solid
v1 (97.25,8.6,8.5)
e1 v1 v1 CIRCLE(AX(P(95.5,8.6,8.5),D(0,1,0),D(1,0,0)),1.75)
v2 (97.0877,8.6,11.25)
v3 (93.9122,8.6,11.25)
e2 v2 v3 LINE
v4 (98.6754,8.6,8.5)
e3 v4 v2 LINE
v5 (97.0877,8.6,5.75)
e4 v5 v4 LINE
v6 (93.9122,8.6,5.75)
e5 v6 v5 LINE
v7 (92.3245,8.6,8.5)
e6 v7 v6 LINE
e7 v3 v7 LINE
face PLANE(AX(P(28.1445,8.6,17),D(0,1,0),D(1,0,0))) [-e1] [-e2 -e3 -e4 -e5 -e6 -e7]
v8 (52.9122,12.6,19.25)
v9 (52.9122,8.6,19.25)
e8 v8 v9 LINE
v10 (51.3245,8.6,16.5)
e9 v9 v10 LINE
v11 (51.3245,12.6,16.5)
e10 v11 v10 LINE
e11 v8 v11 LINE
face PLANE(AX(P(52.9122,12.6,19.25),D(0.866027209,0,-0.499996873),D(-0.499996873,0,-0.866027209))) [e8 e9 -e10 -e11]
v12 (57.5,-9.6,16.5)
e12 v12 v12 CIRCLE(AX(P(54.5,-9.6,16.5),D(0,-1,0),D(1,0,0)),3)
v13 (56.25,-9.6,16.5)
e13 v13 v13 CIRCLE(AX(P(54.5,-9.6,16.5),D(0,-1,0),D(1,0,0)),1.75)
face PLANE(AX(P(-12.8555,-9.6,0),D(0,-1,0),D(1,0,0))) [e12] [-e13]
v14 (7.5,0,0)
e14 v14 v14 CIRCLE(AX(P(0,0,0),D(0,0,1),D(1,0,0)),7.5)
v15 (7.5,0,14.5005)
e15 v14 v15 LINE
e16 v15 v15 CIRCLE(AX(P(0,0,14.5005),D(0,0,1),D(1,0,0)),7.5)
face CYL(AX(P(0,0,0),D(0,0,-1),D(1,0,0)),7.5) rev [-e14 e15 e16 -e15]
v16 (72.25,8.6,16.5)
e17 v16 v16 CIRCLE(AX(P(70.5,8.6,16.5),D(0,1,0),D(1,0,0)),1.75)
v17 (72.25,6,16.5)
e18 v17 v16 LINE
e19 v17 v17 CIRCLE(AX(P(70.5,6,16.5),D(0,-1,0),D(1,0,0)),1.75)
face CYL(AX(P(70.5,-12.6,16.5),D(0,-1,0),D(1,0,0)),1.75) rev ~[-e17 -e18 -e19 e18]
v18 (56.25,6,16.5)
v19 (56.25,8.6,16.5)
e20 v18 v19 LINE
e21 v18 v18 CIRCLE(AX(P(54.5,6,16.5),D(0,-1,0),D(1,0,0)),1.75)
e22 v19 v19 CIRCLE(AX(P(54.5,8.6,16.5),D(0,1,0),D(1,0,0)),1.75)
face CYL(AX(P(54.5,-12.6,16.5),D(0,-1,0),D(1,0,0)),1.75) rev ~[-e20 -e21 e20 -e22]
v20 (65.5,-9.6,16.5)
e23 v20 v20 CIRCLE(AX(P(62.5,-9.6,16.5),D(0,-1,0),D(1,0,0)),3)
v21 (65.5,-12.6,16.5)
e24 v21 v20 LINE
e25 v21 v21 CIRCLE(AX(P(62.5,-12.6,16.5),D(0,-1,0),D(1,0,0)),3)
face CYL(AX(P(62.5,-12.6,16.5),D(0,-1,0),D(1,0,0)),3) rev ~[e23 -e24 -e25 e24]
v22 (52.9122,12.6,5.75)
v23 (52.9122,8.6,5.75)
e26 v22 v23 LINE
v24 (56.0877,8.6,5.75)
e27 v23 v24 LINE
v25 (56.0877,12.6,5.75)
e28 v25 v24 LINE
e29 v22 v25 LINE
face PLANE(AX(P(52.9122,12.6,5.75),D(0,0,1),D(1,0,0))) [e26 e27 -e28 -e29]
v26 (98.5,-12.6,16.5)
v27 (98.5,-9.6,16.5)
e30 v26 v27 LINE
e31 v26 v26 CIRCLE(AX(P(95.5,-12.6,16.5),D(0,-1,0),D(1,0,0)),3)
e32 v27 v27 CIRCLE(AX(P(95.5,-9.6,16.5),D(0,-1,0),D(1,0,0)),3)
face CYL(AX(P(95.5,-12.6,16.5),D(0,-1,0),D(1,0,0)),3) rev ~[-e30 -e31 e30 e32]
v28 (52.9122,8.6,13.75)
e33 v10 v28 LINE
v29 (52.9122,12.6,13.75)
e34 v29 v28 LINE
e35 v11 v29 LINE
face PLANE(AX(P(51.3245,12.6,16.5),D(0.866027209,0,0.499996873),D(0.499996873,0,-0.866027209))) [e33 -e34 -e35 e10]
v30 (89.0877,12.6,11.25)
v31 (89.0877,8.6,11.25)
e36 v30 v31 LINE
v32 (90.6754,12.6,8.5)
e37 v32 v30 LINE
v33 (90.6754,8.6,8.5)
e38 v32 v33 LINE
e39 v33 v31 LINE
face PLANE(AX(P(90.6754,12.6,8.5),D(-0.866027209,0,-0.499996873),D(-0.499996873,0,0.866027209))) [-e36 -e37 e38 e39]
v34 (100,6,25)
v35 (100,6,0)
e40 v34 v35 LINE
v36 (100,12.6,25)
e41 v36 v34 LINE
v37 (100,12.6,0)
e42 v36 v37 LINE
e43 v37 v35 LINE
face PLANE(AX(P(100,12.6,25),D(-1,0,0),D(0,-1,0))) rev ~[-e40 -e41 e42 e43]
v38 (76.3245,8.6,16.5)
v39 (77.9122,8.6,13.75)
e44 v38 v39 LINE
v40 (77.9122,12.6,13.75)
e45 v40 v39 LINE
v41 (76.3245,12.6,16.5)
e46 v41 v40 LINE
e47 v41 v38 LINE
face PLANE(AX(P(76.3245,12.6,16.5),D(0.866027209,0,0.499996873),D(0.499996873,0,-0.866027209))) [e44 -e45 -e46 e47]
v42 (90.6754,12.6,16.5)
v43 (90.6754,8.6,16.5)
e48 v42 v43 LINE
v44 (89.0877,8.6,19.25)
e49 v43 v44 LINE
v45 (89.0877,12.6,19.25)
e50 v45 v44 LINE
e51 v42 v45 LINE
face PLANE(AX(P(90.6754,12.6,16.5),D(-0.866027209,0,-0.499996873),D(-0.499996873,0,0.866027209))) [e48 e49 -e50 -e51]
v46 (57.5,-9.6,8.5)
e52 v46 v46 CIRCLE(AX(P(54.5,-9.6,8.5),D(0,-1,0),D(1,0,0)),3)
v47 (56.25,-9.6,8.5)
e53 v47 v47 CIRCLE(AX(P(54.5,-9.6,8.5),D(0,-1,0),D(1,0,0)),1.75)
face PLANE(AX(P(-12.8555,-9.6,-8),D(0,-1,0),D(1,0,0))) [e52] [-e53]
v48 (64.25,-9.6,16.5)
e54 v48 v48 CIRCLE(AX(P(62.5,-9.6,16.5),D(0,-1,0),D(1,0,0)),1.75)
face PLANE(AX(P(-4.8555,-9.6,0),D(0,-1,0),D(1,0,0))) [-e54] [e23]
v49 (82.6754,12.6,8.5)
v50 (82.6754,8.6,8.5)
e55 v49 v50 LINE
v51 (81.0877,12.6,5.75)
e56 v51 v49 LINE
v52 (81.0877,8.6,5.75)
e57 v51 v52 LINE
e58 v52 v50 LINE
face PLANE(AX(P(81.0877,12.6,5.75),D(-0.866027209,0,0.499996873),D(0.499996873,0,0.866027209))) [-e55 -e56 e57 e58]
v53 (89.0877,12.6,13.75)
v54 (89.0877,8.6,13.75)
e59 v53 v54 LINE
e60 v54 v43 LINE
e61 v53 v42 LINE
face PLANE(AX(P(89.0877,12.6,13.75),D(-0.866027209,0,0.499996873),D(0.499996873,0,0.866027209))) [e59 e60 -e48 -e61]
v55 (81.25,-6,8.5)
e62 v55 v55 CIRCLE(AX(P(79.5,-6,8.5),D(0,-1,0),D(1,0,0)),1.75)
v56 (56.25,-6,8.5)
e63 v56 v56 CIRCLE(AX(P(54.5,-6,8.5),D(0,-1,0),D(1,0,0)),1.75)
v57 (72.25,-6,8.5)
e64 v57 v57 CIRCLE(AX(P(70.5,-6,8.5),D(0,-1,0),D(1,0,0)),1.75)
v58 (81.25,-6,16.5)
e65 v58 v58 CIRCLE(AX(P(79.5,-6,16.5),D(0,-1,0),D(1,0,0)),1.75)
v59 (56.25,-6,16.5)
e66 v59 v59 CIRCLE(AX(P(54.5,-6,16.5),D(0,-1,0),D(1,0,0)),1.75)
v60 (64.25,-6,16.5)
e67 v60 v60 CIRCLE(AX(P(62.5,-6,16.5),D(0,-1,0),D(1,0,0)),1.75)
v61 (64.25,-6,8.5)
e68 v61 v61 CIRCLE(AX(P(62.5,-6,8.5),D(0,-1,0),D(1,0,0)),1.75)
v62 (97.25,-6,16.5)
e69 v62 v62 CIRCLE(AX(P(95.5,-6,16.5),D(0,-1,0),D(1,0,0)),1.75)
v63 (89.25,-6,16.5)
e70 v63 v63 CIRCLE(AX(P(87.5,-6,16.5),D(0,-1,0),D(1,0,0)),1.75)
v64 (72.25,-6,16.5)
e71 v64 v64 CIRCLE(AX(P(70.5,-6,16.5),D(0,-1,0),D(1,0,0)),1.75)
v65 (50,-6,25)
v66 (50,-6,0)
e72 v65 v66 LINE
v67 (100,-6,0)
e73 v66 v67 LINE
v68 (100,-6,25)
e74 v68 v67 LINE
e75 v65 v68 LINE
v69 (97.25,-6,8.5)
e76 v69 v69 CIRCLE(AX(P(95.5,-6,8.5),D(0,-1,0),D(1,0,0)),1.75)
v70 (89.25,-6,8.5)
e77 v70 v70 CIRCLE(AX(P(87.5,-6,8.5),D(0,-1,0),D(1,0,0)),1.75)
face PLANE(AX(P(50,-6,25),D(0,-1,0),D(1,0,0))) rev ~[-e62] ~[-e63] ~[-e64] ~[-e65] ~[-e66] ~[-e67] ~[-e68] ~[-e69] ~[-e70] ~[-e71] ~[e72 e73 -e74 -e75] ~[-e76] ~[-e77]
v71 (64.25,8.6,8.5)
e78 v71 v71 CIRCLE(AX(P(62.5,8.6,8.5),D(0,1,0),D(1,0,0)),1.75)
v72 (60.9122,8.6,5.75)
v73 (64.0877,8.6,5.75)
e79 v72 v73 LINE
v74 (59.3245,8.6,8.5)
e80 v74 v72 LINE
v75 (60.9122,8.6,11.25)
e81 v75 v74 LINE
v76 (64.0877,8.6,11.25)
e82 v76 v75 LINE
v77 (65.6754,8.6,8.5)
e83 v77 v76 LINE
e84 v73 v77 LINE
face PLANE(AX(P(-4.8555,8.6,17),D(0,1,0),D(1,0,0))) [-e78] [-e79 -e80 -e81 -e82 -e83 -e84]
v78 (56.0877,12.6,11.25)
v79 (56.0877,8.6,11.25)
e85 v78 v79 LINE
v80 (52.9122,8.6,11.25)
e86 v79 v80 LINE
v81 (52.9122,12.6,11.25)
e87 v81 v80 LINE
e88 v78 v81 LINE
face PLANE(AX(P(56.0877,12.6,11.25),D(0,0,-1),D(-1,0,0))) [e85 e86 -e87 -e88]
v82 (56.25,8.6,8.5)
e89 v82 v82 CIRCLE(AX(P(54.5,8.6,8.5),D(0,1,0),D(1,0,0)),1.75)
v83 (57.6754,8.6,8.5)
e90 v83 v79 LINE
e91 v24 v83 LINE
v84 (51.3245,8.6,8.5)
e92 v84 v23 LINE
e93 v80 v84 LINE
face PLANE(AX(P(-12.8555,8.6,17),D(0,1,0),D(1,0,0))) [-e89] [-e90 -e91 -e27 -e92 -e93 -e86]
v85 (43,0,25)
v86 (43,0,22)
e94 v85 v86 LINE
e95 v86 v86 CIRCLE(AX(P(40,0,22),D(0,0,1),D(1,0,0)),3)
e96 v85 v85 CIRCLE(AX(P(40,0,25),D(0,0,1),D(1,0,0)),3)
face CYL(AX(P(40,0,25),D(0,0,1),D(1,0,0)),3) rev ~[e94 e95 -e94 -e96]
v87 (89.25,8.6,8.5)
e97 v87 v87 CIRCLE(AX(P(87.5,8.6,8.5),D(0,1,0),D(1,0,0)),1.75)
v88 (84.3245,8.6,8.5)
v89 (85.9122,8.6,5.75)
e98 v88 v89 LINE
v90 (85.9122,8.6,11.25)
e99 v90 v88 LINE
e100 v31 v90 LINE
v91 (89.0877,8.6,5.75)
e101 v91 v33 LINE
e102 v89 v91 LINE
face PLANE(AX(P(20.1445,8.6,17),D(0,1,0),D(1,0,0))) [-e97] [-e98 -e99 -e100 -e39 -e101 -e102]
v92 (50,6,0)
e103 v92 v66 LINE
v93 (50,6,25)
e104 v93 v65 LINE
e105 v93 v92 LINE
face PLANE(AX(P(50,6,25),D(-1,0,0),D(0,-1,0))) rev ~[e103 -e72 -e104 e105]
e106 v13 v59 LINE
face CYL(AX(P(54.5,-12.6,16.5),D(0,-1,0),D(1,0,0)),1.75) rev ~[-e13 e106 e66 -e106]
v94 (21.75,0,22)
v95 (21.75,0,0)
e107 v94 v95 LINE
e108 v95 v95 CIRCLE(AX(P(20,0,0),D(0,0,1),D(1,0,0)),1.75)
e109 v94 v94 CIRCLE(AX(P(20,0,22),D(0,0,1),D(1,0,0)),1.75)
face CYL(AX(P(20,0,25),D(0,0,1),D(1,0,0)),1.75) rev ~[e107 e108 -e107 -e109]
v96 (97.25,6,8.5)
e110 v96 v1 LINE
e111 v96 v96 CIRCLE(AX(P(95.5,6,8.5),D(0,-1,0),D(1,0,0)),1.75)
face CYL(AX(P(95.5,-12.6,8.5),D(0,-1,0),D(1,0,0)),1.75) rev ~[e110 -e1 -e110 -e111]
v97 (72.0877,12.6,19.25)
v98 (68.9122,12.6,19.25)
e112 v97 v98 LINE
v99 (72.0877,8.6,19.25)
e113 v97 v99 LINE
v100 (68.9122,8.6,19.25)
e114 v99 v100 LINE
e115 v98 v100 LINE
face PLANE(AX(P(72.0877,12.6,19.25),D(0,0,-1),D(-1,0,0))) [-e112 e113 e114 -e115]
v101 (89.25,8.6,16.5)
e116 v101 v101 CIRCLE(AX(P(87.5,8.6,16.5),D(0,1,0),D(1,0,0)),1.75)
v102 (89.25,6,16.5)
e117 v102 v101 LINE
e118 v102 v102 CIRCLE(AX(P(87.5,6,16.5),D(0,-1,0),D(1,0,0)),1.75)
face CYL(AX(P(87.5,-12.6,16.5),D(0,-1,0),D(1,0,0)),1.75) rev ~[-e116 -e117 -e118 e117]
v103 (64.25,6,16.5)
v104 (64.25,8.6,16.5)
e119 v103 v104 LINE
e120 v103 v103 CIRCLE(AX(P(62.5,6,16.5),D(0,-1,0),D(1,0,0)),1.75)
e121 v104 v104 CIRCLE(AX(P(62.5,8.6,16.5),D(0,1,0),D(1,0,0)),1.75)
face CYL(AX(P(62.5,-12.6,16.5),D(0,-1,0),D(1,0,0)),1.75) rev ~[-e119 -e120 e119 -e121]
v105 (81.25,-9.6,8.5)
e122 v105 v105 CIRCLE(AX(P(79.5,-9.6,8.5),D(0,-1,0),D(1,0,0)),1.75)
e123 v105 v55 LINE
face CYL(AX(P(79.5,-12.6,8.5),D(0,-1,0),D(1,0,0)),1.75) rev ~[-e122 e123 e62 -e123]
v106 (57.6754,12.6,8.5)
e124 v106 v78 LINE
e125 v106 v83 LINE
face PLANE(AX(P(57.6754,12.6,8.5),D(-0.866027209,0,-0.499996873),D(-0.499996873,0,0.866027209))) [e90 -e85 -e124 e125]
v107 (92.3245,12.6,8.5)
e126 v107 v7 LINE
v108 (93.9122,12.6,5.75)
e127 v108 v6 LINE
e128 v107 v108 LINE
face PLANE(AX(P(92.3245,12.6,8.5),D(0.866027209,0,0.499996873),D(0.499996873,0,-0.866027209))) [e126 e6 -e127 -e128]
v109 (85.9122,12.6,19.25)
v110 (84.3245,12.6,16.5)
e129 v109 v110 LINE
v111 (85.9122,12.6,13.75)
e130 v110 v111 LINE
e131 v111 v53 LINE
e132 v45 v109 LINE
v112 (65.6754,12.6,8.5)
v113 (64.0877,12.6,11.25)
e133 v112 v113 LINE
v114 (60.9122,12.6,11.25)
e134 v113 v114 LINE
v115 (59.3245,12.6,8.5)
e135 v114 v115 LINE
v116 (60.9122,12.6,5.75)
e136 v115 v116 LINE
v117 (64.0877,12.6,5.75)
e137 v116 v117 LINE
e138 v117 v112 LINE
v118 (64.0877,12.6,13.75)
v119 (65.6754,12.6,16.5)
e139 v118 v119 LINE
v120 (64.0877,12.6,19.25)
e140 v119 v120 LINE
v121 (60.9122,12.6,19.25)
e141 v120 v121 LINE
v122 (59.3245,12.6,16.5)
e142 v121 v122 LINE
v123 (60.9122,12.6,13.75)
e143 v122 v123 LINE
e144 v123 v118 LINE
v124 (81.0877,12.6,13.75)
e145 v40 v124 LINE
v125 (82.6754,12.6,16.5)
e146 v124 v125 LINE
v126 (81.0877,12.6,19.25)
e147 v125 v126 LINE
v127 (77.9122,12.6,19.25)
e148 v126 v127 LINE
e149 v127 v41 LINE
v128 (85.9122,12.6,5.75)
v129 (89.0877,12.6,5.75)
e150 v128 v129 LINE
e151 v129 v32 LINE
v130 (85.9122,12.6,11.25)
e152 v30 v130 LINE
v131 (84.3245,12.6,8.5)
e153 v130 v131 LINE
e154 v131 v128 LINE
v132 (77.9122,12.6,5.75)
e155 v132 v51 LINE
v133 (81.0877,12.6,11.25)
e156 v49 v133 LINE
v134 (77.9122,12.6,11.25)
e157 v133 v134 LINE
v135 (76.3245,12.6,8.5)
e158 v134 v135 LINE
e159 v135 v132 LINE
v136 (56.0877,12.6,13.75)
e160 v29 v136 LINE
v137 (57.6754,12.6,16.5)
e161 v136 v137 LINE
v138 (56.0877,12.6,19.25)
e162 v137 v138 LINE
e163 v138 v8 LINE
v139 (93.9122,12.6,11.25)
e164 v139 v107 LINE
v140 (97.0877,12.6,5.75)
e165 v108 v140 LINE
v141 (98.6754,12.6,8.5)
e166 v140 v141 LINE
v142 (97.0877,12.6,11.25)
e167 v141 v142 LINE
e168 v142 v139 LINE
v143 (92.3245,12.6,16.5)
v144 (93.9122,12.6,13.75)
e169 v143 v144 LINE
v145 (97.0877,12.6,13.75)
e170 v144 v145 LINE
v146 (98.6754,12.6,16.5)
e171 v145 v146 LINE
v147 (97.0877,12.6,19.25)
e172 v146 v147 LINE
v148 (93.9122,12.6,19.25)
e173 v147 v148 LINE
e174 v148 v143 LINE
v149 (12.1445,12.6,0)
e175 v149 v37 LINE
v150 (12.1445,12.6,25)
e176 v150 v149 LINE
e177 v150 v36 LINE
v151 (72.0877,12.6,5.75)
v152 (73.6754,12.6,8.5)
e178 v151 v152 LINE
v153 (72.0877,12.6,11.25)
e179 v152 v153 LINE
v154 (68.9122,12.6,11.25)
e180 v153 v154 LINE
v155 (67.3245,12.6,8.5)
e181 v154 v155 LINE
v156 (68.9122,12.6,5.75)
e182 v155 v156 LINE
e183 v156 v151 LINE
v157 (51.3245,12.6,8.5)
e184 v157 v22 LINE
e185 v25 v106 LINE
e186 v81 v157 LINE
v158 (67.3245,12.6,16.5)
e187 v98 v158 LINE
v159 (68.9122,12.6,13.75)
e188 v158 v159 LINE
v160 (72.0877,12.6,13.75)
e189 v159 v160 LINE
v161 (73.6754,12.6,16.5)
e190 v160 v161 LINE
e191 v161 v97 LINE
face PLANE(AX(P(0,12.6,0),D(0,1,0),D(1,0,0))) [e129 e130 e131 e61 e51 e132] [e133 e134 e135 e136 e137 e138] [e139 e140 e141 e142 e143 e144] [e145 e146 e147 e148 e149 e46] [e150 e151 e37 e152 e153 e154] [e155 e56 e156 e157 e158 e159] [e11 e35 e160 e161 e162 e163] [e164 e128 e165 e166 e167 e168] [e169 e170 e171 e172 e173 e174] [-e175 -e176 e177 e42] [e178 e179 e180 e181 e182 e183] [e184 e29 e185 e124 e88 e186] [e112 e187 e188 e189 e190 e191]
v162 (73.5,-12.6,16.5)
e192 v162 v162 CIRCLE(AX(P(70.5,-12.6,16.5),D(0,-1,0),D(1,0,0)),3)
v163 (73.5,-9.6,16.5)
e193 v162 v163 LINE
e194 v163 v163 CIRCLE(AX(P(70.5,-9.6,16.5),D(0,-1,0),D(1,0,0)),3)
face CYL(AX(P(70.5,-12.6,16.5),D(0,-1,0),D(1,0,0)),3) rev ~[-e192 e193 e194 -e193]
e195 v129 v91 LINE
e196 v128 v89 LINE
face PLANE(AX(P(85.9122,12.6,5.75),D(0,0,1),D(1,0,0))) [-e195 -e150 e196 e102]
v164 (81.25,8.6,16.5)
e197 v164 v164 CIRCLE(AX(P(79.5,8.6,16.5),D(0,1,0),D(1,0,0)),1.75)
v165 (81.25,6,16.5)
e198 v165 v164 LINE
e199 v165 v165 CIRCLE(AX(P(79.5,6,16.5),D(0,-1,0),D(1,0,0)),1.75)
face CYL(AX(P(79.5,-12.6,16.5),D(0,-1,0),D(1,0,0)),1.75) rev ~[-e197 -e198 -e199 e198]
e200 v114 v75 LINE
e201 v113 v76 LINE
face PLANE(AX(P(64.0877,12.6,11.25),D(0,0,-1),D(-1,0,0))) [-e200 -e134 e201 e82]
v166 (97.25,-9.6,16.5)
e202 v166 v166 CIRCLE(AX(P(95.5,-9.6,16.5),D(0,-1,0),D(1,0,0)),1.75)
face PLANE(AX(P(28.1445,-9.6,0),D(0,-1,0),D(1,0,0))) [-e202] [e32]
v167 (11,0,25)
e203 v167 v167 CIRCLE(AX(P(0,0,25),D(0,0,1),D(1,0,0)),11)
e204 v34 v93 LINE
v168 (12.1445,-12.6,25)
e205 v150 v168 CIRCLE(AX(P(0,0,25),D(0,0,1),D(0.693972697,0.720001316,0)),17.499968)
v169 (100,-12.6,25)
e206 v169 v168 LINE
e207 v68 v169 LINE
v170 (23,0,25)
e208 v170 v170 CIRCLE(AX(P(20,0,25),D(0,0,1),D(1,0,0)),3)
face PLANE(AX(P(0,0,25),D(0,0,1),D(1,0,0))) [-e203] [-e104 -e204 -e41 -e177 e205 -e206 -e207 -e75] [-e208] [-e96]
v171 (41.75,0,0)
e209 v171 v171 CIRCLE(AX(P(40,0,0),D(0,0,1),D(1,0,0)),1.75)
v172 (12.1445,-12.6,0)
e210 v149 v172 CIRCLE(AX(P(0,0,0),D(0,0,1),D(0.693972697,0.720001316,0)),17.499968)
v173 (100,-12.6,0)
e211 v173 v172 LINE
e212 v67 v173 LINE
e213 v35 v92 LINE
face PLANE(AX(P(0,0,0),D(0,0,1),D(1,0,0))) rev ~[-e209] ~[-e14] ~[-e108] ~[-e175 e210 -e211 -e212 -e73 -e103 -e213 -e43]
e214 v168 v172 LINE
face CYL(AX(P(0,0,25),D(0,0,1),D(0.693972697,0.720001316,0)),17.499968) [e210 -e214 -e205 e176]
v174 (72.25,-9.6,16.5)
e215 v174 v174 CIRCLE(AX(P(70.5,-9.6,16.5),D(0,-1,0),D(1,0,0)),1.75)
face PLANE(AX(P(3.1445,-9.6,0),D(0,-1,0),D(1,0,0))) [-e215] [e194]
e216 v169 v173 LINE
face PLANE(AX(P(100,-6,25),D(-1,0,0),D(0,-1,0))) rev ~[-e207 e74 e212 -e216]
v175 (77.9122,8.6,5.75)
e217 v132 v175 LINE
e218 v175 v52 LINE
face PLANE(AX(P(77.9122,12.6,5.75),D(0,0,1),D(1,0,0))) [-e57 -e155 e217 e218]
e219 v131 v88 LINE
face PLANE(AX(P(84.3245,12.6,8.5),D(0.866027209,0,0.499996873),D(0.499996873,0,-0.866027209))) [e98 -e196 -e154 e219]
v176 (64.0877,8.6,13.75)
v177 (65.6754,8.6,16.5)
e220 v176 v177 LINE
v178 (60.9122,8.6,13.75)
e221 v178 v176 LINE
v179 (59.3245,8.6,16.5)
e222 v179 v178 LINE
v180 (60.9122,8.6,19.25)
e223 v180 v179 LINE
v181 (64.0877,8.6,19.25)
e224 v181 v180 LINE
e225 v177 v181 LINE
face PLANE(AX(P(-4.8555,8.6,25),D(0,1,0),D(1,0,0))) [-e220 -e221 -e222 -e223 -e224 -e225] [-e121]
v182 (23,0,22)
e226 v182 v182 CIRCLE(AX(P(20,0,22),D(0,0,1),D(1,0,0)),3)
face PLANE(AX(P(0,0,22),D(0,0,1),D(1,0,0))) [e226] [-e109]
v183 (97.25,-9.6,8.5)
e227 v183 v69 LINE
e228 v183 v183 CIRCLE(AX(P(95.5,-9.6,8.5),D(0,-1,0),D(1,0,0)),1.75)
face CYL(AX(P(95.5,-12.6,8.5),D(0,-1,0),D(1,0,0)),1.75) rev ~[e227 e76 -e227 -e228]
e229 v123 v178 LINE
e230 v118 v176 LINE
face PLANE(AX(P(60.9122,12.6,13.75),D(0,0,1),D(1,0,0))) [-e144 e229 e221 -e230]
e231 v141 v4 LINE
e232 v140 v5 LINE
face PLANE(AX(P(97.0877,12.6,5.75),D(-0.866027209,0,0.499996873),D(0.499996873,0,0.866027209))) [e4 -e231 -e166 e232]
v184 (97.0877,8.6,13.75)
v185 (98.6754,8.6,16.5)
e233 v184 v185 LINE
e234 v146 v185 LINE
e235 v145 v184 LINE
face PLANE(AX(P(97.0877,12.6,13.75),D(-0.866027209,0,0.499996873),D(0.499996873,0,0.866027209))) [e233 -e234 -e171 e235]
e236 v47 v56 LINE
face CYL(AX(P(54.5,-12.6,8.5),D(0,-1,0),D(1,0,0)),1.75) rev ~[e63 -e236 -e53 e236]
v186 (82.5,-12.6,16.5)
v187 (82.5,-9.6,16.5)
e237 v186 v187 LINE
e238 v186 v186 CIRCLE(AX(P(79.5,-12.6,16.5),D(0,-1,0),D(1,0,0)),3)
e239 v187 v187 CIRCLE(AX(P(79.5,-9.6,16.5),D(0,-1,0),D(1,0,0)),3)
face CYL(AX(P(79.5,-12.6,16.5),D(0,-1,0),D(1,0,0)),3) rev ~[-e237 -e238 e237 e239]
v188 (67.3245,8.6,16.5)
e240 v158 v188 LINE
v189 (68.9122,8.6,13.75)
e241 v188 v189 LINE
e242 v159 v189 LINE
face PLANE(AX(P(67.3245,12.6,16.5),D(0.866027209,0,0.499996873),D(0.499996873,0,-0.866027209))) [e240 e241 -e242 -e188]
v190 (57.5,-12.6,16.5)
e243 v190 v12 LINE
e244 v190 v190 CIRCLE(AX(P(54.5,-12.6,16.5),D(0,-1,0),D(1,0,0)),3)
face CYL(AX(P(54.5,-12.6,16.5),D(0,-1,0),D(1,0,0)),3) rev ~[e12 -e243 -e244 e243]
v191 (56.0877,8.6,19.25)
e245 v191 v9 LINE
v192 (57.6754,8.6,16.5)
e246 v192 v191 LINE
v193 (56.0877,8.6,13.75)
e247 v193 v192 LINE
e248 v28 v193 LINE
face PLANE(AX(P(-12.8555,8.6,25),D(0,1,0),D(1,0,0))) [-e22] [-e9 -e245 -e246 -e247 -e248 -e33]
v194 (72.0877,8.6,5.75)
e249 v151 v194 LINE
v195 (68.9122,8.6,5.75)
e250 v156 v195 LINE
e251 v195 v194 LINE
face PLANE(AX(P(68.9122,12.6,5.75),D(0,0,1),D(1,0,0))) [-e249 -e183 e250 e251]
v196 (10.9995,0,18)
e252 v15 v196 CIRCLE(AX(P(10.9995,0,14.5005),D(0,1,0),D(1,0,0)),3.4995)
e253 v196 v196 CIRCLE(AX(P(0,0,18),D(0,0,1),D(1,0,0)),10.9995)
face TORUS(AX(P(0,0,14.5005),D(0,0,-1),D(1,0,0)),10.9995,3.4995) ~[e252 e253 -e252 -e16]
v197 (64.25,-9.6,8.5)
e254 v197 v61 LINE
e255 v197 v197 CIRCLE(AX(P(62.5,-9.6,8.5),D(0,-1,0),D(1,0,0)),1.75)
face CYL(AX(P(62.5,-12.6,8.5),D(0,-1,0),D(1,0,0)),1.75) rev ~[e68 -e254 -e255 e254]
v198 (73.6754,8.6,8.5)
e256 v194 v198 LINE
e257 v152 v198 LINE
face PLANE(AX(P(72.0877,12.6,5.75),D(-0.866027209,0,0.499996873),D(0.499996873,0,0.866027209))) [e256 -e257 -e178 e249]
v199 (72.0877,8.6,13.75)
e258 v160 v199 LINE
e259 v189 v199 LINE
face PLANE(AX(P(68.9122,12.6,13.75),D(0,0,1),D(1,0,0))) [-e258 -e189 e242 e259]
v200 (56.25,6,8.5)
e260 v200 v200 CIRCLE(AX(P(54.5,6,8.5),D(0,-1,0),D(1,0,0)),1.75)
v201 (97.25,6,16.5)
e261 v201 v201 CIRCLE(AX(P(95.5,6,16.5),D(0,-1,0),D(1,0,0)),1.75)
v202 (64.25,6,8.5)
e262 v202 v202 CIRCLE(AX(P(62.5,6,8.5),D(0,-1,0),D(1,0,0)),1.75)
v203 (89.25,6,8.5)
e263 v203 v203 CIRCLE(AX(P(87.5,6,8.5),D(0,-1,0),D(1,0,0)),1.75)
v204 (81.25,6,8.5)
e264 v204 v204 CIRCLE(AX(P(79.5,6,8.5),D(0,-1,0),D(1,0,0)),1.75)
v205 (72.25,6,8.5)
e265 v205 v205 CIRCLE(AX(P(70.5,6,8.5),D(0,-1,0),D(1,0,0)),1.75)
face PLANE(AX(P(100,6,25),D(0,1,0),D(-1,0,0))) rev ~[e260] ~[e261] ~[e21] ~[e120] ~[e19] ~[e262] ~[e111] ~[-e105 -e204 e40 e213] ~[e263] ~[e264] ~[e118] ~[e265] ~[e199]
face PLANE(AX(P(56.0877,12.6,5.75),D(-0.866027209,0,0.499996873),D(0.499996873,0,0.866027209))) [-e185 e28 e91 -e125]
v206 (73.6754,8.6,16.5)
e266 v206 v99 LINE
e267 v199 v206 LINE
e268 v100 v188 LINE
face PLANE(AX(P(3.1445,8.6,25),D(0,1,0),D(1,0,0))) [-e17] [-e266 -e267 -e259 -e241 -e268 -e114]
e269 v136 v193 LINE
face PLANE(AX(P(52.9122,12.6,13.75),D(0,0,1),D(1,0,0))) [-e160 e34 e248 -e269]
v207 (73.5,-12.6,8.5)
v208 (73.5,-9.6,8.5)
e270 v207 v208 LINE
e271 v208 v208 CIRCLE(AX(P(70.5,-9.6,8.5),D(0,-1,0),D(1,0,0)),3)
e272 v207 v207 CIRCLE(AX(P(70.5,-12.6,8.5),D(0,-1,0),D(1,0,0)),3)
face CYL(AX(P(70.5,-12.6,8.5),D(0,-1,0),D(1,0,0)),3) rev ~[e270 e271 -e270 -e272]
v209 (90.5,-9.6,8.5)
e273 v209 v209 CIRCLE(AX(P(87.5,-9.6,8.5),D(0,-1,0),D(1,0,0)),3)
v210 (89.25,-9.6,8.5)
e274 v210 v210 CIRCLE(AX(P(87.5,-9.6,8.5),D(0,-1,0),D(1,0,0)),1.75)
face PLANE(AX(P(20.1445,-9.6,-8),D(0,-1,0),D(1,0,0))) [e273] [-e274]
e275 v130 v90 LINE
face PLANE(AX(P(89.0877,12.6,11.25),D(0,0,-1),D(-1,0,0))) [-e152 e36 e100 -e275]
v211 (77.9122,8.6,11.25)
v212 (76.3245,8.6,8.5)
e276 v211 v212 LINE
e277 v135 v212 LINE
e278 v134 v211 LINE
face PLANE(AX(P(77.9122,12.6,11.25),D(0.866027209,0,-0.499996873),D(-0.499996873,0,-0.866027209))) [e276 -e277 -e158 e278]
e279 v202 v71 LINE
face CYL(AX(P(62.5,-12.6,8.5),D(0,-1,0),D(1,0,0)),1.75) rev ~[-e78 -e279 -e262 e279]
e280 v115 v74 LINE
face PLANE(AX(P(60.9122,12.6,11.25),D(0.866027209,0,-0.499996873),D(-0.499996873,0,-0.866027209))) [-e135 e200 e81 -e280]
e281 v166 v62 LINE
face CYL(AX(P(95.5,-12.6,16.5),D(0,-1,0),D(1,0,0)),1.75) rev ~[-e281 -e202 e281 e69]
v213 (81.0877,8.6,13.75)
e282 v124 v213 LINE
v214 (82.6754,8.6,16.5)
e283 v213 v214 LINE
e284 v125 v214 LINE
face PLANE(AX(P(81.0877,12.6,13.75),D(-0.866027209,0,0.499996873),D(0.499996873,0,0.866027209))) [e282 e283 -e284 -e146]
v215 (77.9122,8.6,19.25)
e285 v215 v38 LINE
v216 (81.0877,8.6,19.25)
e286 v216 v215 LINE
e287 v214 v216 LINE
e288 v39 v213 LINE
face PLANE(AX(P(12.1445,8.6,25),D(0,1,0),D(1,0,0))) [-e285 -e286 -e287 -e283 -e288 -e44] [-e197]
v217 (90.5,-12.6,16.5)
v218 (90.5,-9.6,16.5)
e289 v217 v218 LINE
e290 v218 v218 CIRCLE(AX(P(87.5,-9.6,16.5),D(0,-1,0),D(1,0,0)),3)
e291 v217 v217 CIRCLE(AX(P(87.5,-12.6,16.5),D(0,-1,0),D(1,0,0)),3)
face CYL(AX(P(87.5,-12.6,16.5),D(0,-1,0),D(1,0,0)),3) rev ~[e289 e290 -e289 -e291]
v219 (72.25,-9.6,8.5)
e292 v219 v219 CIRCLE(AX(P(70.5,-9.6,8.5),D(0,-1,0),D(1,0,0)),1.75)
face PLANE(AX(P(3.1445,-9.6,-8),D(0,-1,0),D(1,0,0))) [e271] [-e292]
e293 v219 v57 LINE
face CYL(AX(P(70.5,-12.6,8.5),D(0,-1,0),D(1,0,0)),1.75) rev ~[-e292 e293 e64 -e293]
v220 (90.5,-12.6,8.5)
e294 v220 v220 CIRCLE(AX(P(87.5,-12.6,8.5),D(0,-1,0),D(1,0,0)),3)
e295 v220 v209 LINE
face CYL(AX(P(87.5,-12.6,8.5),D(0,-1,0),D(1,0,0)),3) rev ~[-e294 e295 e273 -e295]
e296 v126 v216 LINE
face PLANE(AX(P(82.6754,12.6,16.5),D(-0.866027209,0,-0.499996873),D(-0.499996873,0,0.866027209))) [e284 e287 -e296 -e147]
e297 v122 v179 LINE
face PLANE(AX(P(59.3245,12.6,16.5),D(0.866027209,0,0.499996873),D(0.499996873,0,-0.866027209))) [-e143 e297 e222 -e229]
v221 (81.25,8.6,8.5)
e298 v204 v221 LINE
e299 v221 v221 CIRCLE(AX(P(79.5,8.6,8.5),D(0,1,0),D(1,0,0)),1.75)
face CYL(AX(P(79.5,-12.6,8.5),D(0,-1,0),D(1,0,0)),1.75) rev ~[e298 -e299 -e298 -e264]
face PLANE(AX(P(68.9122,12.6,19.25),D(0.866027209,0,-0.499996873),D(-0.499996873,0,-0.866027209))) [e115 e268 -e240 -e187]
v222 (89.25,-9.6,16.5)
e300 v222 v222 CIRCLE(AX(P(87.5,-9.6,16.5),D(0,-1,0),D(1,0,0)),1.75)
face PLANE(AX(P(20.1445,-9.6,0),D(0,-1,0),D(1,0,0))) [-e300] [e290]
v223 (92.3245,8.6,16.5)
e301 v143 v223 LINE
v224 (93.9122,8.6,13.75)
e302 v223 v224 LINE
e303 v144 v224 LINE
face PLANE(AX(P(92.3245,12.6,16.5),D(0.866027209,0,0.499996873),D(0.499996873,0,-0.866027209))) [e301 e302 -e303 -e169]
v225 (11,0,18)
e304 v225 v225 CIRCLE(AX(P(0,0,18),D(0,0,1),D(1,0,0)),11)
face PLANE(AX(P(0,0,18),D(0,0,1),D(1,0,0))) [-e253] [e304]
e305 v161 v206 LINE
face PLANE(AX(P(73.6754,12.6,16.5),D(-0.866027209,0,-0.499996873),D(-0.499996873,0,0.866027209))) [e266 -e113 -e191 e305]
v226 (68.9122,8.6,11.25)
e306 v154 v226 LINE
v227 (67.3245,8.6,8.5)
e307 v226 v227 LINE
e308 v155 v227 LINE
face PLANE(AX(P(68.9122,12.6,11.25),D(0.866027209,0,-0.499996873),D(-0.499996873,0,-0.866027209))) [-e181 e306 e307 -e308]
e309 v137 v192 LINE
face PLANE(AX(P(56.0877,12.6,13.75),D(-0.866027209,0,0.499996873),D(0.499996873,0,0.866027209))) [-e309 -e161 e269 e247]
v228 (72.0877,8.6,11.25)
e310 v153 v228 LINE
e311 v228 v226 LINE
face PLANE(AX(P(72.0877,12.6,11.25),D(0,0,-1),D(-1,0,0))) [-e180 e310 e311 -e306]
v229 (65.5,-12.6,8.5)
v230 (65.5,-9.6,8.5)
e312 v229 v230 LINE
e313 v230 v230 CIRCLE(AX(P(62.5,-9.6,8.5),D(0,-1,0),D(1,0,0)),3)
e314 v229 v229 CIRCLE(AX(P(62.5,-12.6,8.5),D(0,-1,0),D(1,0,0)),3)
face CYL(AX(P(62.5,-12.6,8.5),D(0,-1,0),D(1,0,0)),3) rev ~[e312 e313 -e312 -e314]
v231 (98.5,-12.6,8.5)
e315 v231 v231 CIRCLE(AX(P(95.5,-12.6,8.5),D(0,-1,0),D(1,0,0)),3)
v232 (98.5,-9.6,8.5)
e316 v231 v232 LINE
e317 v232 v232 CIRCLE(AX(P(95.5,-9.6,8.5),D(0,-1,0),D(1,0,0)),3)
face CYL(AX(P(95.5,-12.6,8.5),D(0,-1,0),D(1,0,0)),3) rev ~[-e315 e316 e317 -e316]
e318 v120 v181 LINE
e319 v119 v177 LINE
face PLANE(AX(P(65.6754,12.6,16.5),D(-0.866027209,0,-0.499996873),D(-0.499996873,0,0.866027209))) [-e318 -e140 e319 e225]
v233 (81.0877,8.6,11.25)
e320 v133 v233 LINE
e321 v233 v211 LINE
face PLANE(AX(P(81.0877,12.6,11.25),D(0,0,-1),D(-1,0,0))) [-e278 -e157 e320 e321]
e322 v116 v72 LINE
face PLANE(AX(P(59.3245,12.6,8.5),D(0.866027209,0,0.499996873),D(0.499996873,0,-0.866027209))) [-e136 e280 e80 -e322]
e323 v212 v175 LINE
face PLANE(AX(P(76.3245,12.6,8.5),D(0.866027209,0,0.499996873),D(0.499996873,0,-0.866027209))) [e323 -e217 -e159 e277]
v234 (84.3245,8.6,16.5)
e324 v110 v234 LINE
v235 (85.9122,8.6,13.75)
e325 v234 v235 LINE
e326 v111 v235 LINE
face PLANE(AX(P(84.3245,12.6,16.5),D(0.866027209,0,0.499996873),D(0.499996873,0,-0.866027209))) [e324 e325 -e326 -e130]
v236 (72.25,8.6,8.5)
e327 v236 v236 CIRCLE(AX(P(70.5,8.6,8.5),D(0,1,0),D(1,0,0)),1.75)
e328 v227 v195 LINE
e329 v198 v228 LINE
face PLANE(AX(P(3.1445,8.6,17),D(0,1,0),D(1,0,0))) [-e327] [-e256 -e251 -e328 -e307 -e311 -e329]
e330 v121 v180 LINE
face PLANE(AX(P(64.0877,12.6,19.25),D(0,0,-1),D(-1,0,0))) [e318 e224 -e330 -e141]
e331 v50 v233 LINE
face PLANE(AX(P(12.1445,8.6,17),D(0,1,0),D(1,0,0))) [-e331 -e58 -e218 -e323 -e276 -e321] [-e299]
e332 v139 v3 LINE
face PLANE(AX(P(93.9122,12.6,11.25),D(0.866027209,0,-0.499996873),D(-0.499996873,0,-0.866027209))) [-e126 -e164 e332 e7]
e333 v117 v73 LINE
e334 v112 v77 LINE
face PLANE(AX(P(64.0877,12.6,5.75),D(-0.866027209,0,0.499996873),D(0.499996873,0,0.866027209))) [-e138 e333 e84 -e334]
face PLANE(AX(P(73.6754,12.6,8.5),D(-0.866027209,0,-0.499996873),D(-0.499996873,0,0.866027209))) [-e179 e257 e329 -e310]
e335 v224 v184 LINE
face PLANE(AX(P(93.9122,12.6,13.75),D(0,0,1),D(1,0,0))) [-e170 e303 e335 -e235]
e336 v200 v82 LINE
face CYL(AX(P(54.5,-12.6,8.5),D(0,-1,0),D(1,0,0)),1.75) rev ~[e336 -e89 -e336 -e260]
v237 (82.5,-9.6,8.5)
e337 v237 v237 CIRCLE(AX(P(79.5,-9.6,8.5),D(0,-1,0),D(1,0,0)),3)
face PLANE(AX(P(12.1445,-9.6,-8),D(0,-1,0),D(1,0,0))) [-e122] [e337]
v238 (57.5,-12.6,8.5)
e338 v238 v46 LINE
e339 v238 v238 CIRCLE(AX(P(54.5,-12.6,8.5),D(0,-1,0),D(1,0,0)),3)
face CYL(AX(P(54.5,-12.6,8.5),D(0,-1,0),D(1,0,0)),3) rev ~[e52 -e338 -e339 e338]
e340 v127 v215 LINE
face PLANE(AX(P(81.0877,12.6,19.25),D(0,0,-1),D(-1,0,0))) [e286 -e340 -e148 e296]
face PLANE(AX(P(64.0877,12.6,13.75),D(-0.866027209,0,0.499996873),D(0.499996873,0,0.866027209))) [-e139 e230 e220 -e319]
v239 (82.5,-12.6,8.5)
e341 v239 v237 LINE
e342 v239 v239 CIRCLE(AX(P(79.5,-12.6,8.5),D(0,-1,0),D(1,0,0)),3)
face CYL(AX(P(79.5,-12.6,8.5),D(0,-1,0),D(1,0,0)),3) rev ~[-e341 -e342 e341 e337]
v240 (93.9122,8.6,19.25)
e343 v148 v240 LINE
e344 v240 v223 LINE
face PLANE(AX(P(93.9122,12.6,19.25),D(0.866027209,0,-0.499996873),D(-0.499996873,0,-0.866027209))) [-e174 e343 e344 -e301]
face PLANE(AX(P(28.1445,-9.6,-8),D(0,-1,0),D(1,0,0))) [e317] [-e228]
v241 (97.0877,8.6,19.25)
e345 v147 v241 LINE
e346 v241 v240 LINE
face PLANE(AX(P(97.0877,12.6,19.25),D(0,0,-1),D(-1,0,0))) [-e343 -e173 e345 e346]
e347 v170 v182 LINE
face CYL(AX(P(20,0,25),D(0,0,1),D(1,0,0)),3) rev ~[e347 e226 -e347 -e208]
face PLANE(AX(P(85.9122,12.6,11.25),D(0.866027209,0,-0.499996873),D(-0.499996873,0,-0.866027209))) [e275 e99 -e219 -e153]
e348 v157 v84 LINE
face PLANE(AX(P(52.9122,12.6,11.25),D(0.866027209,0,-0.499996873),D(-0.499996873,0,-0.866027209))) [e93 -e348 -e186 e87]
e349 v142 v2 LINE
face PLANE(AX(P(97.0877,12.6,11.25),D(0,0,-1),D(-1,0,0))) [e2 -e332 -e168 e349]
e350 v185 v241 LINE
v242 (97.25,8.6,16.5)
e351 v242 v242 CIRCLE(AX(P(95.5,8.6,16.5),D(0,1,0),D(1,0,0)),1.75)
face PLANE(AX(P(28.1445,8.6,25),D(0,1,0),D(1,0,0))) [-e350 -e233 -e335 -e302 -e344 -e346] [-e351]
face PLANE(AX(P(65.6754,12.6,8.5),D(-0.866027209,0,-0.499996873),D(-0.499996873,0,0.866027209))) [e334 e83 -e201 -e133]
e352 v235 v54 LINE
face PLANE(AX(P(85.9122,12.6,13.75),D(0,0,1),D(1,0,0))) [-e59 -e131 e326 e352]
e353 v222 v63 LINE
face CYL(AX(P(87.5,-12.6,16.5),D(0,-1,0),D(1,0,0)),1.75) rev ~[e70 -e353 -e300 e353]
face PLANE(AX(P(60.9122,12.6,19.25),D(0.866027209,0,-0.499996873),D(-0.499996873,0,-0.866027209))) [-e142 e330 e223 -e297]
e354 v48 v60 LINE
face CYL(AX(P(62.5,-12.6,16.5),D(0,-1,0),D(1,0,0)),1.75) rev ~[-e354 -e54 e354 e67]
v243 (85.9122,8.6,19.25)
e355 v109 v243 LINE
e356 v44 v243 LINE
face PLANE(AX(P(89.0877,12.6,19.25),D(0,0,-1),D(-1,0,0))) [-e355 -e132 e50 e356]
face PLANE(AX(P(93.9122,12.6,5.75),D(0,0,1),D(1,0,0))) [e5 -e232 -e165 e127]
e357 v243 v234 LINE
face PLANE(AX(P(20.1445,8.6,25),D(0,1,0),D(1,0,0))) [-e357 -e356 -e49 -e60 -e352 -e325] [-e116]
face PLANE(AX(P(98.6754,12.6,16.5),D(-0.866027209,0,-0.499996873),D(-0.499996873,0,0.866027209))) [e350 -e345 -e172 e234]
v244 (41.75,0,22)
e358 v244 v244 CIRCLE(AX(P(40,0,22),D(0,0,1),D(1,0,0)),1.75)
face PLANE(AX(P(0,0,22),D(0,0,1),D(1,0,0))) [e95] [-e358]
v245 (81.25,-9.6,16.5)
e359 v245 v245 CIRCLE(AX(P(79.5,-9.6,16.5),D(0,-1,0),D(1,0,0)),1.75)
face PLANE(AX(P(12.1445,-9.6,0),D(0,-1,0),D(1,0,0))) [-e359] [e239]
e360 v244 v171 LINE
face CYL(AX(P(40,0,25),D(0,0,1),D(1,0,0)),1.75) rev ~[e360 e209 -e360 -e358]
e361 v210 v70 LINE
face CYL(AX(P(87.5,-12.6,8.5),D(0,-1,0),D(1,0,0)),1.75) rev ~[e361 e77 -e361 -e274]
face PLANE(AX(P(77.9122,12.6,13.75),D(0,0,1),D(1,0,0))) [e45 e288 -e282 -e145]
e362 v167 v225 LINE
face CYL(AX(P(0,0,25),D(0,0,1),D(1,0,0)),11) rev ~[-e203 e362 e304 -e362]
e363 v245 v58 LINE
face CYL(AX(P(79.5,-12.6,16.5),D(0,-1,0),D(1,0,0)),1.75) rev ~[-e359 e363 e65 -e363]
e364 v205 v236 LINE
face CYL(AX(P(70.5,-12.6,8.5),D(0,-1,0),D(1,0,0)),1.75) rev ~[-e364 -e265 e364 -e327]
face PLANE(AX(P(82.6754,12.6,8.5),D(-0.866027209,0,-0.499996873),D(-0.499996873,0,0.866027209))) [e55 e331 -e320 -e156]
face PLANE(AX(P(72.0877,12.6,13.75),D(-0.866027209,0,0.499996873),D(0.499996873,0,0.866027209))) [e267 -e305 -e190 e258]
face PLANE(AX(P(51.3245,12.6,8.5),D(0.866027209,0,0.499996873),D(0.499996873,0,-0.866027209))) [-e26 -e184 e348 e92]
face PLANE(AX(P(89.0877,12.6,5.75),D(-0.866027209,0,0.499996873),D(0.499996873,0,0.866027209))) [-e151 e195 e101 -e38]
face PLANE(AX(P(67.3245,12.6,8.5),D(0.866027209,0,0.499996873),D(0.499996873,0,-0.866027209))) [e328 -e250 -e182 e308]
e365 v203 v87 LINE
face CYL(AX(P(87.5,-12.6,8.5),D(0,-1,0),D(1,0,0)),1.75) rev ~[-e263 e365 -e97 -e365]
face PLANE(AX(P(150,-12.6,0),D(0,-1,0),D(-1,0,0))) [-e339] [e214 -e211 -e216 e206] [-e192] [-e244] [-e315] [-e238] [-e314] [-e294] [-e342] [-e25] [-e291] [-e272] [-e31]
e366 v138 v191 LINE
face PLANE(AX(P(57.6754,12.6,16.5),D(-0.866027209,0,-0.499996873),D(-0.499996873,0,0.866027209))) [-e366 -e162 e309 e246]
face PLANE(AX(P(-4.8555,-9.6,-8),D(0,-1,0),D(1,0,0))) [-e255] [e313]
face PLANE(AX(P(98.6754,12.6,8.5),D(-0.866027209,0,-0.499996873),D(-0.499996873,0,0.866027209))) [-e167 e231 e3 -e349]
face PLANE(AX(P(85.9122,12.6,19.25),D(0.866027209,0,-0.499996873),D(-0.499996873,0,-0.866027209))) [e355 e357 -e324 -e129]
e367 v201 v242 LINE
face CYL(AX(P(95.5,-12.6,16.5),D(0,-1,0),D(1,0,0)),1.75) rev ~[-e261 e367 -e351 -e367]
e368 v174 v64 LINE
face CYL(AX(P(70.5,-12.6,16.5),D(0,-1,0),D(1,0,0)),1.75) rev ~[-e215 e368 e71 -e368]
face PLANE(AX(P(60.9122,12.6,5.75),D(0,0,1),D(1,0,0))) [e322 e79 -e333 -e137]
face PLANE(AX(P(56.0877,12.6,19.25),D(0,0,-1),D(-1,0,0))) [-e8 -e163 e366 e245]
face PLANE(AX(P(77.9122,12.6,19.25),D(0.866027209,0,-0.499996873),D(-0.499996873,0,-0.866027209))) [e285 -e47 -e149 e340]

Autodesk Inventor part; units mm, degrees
ref_plane "YZ Plane" through (0, 0, 0) normal (1, 0, 0) x (0, 1, 0)
ref_plane "XZ Plane" through (0, 0, 0) normal (0, 1, 0) x (-1, 0, 0)
ref_plane "XY Plane" through (0, 0, 0) normal (0, 0, 1) x (1, 0, 0)
sketch "Sketch1" plane through (0, 0, 0) normal (0, 0, 1) x (1, 0, 0)
  line L0 (0, 12.6) -> (150, 12.6)
  arc A0 (150, -12.6) -> (150, 12.6) centre (150, 0) ccw
  line L1 (150, -12.6) -> (0, -12.6)
  arc A1 (0, 12.6) -> (0, -12.6) centre (0, 0) ccw
  circle A2 centre (0, 0) radius 7.5
  circle A3 centre (150, 0) radius 4.25
  dimension "d0" = 150
  dimension "d2" = 12.6
  dimension "d3" = 15
  dimension "d4" = 8.5
extrude "Extrusion1" add sketch "Sketch1" along normal blind 25
sketch "Sketch2" plane through (0, 0, 25) normal (0, 0, 1) x (1, 0, 0)
  circle A0 centre (0, 0) radius 7.5 projected
  arc A1 (0, 12.6) -> (0, -12.6) centre (0, 0) ccw projected
  circle A2 centre (0, 0) radius 11
  dimension "d7" = 22
extrude "Extrusion2" cut sketch "Sketch2" against normal blind 7
sketch "Sketch4" plane through (0, 0, 25) normal (0, 0, 1) x (1, 0, 0)
  circle A0 centre (0, 0) radius 11 projected
  circle A1 centre (20, 0) radius 1.75
  circle A2 centre (40, 0) radius 1.75
  dimension "d16" = 20
  dimension "d17" = 40
  dimension "d23" = 3.5
extrude "Extrusion3" cut sketch "Sketch4" against normal through all contours A1 | A2
sketch "Sketch5" plane through (0, 0, 25) normal (0, 0, 1) x (1, 0, 0)
  circle A0 centre (20, 0) radius 1.75 projected
  circle A1 centre (40, 0) radius 1.75 projected
  circle A2 centre (40, 0) radius 3
  circle A3 centre (20, 0) radius 3
  dimension "d28" = 6
extrude "Extrusion4" cut sketch "Sketch5" against normal blind 3
sketch "Sketch6" plane through (0, 0, 25) normal (0, 0, 1) x (1, 0, 0)
  line L0 (150, 12.6) -> (0, 12.6) projected
  arc A0 (0, 12.6) -> (0, -12.6) centre (0, 0) ccw projected
  line L1 (0, -12.6) -> (150, -12.6) projected
  arc A1 (12.1445, 12.6) -> (12.1445, -12.6) centre (0, 0) ccw
  dimension "d24" = 35
extrude "Extrusion5" add sketch "Sketch6" against normal up to surface (25 mm away)
sketch "Sketch7" plane through (0, 0, 25) normal (0, 0, 1) x (1, 0, 0)
  circle A0 centre (150, 0) radius 4.25 projected
  arc A1 (150, -12.6) -> (150, 12.6) centre (150, 0) ccw projected
  circle A2 centre (150, 0) radius 7
  dimension "d30" = 14
extrude "Extrusion6" cut sketch "Sketch7" against normal blind 8
fillet "Fillet1" radius 3.5 1 edges at (-7.5, 0, 18)
sketch "Sketch8" plane through (0, 0, 25) normal (0, 0, 1) x (1, 0, 0)
  circle A0 centre (150, 0) radius 7 projected
  line L0 (150, 12.6) -> (12.1445, 12.6) projected
  line L1 (12.1445, -12.6) -> (150, -12.6) projected
  arc A1 (150, -12.6) -> (150, 12.6) centre (150, 0) ccw projected
  line L2 (100, 12.6) -> (100, 6)
  line L3 (100, 6) -> (50, 6)
  line L4 (50, 6) -> (50, -6)
  line L5 (50, -6) -> (100, -6)
  line L6 (100, -6) -> (100, -12.6)
  point P0 (50, 0)
  dimension "d35" = 12
  dimension "d37" = 50
  dimension "d38" = 50
extrude "Extrusion7" cut sketch "Sketch8" against normal through all contours A0 | A1 L1 L6 L5 L4 L3 L2 L0
sketch "Sketch9" plane through (12.1445, -12.6, 0) normal (0, -1, 0) x (1, 0, 0)
  line L0 (87.8555, 0) -> (87.8555, 25) projected
  line L1 (83.3555, 8.5) -> (75.3555, 8.5)
  line L2 (75.3555, 8.5) -> (75.3555, 16.5)
  line L3 (75.3555, 16.5) -> (83.3555, 16.5)
  line L4 (83.3555, 16.5) -> (83.3555, 8.5)
  line L5 (75.3555, 16.5) -> (67.3555, 16.5)
  line L6 (67.3555, 16.5) -> (67.3555, 8.5)
  line L7 (67.3555, 8.5) -> (75.3555, 8.5)
  line L8 (75.3555, 8.5) -> (75.3555, 16.5)
  circle A0 centre (67.3555, 16.5) radius 1.75
  point P0 (-12.1445, 0)
  point P1 (75.3555, 12.5)
  point P2 (87.8555, 12.5)
  dimension "d41" = 12.5
  dimension "d42" = 8
  dimension "d43" = 3.5
extrude "Extrusion8" cut sketch "Sketch9" against normal through all contours A0 L6 L5 | L5 L6 A0
sketch "Sketch10" plane through (12.1445, -12.6, 0) normal (0, -1, 0) x (1, 0, 0)
  circle A0 centre (67.3555, 16.5) radius 1.75 projected
  circle A1 centre (67.3555, 16.5) radius 3
  point P0 (-12.1445, 0)
  dimension "d46" = 6
extrude "Extrusion9" cut sketch "Sketch10" against normal blind 3
sketch "Sketch11" plane through (12.1445, 12.6, 25) normal (0, 1, 0) x (1, 0, 0)
  circle A0 centre (67.3555, 8.5) radius 1.75 projected
  line L0 (64.18, 8.5) -> (65.7677, 11.25)
  line L1 (65.7677, 11.25) -> (68.9432, 11.25)
  line L2 (68.9432, 11.25) -> (70.5309, 8.5)
  line L3 (70.5309, 8.5) -> (68.9432, 5.75)
  line L4 (68.9432, 5.75) -> (65.7677, 5.75)
  line L5 (65.7677, 5.75) -> (64.18, 8.5)
  point P0 (-12.1445, 25)
  dimension "d50" = 5.5
extrude "Extrusion10" cut sketch "Sketch11" against normal blind 4
pattern_linear "Rectangular Pattern1" count 3 spacing 8 along (1, 0, 0) count 2 spacing 8 along (0, 0, -1) of "Extrusion10", "Extrusion9", "Extrusion8"
pattern_linear "Rectangular Pattern2" count 2 spacing 25 along (-1, 0, 0) of "Extrusion10", "Extrusion9", "Extrusion8", "Rectangular Pattern1"
properties part number "driven arm 2_1"
